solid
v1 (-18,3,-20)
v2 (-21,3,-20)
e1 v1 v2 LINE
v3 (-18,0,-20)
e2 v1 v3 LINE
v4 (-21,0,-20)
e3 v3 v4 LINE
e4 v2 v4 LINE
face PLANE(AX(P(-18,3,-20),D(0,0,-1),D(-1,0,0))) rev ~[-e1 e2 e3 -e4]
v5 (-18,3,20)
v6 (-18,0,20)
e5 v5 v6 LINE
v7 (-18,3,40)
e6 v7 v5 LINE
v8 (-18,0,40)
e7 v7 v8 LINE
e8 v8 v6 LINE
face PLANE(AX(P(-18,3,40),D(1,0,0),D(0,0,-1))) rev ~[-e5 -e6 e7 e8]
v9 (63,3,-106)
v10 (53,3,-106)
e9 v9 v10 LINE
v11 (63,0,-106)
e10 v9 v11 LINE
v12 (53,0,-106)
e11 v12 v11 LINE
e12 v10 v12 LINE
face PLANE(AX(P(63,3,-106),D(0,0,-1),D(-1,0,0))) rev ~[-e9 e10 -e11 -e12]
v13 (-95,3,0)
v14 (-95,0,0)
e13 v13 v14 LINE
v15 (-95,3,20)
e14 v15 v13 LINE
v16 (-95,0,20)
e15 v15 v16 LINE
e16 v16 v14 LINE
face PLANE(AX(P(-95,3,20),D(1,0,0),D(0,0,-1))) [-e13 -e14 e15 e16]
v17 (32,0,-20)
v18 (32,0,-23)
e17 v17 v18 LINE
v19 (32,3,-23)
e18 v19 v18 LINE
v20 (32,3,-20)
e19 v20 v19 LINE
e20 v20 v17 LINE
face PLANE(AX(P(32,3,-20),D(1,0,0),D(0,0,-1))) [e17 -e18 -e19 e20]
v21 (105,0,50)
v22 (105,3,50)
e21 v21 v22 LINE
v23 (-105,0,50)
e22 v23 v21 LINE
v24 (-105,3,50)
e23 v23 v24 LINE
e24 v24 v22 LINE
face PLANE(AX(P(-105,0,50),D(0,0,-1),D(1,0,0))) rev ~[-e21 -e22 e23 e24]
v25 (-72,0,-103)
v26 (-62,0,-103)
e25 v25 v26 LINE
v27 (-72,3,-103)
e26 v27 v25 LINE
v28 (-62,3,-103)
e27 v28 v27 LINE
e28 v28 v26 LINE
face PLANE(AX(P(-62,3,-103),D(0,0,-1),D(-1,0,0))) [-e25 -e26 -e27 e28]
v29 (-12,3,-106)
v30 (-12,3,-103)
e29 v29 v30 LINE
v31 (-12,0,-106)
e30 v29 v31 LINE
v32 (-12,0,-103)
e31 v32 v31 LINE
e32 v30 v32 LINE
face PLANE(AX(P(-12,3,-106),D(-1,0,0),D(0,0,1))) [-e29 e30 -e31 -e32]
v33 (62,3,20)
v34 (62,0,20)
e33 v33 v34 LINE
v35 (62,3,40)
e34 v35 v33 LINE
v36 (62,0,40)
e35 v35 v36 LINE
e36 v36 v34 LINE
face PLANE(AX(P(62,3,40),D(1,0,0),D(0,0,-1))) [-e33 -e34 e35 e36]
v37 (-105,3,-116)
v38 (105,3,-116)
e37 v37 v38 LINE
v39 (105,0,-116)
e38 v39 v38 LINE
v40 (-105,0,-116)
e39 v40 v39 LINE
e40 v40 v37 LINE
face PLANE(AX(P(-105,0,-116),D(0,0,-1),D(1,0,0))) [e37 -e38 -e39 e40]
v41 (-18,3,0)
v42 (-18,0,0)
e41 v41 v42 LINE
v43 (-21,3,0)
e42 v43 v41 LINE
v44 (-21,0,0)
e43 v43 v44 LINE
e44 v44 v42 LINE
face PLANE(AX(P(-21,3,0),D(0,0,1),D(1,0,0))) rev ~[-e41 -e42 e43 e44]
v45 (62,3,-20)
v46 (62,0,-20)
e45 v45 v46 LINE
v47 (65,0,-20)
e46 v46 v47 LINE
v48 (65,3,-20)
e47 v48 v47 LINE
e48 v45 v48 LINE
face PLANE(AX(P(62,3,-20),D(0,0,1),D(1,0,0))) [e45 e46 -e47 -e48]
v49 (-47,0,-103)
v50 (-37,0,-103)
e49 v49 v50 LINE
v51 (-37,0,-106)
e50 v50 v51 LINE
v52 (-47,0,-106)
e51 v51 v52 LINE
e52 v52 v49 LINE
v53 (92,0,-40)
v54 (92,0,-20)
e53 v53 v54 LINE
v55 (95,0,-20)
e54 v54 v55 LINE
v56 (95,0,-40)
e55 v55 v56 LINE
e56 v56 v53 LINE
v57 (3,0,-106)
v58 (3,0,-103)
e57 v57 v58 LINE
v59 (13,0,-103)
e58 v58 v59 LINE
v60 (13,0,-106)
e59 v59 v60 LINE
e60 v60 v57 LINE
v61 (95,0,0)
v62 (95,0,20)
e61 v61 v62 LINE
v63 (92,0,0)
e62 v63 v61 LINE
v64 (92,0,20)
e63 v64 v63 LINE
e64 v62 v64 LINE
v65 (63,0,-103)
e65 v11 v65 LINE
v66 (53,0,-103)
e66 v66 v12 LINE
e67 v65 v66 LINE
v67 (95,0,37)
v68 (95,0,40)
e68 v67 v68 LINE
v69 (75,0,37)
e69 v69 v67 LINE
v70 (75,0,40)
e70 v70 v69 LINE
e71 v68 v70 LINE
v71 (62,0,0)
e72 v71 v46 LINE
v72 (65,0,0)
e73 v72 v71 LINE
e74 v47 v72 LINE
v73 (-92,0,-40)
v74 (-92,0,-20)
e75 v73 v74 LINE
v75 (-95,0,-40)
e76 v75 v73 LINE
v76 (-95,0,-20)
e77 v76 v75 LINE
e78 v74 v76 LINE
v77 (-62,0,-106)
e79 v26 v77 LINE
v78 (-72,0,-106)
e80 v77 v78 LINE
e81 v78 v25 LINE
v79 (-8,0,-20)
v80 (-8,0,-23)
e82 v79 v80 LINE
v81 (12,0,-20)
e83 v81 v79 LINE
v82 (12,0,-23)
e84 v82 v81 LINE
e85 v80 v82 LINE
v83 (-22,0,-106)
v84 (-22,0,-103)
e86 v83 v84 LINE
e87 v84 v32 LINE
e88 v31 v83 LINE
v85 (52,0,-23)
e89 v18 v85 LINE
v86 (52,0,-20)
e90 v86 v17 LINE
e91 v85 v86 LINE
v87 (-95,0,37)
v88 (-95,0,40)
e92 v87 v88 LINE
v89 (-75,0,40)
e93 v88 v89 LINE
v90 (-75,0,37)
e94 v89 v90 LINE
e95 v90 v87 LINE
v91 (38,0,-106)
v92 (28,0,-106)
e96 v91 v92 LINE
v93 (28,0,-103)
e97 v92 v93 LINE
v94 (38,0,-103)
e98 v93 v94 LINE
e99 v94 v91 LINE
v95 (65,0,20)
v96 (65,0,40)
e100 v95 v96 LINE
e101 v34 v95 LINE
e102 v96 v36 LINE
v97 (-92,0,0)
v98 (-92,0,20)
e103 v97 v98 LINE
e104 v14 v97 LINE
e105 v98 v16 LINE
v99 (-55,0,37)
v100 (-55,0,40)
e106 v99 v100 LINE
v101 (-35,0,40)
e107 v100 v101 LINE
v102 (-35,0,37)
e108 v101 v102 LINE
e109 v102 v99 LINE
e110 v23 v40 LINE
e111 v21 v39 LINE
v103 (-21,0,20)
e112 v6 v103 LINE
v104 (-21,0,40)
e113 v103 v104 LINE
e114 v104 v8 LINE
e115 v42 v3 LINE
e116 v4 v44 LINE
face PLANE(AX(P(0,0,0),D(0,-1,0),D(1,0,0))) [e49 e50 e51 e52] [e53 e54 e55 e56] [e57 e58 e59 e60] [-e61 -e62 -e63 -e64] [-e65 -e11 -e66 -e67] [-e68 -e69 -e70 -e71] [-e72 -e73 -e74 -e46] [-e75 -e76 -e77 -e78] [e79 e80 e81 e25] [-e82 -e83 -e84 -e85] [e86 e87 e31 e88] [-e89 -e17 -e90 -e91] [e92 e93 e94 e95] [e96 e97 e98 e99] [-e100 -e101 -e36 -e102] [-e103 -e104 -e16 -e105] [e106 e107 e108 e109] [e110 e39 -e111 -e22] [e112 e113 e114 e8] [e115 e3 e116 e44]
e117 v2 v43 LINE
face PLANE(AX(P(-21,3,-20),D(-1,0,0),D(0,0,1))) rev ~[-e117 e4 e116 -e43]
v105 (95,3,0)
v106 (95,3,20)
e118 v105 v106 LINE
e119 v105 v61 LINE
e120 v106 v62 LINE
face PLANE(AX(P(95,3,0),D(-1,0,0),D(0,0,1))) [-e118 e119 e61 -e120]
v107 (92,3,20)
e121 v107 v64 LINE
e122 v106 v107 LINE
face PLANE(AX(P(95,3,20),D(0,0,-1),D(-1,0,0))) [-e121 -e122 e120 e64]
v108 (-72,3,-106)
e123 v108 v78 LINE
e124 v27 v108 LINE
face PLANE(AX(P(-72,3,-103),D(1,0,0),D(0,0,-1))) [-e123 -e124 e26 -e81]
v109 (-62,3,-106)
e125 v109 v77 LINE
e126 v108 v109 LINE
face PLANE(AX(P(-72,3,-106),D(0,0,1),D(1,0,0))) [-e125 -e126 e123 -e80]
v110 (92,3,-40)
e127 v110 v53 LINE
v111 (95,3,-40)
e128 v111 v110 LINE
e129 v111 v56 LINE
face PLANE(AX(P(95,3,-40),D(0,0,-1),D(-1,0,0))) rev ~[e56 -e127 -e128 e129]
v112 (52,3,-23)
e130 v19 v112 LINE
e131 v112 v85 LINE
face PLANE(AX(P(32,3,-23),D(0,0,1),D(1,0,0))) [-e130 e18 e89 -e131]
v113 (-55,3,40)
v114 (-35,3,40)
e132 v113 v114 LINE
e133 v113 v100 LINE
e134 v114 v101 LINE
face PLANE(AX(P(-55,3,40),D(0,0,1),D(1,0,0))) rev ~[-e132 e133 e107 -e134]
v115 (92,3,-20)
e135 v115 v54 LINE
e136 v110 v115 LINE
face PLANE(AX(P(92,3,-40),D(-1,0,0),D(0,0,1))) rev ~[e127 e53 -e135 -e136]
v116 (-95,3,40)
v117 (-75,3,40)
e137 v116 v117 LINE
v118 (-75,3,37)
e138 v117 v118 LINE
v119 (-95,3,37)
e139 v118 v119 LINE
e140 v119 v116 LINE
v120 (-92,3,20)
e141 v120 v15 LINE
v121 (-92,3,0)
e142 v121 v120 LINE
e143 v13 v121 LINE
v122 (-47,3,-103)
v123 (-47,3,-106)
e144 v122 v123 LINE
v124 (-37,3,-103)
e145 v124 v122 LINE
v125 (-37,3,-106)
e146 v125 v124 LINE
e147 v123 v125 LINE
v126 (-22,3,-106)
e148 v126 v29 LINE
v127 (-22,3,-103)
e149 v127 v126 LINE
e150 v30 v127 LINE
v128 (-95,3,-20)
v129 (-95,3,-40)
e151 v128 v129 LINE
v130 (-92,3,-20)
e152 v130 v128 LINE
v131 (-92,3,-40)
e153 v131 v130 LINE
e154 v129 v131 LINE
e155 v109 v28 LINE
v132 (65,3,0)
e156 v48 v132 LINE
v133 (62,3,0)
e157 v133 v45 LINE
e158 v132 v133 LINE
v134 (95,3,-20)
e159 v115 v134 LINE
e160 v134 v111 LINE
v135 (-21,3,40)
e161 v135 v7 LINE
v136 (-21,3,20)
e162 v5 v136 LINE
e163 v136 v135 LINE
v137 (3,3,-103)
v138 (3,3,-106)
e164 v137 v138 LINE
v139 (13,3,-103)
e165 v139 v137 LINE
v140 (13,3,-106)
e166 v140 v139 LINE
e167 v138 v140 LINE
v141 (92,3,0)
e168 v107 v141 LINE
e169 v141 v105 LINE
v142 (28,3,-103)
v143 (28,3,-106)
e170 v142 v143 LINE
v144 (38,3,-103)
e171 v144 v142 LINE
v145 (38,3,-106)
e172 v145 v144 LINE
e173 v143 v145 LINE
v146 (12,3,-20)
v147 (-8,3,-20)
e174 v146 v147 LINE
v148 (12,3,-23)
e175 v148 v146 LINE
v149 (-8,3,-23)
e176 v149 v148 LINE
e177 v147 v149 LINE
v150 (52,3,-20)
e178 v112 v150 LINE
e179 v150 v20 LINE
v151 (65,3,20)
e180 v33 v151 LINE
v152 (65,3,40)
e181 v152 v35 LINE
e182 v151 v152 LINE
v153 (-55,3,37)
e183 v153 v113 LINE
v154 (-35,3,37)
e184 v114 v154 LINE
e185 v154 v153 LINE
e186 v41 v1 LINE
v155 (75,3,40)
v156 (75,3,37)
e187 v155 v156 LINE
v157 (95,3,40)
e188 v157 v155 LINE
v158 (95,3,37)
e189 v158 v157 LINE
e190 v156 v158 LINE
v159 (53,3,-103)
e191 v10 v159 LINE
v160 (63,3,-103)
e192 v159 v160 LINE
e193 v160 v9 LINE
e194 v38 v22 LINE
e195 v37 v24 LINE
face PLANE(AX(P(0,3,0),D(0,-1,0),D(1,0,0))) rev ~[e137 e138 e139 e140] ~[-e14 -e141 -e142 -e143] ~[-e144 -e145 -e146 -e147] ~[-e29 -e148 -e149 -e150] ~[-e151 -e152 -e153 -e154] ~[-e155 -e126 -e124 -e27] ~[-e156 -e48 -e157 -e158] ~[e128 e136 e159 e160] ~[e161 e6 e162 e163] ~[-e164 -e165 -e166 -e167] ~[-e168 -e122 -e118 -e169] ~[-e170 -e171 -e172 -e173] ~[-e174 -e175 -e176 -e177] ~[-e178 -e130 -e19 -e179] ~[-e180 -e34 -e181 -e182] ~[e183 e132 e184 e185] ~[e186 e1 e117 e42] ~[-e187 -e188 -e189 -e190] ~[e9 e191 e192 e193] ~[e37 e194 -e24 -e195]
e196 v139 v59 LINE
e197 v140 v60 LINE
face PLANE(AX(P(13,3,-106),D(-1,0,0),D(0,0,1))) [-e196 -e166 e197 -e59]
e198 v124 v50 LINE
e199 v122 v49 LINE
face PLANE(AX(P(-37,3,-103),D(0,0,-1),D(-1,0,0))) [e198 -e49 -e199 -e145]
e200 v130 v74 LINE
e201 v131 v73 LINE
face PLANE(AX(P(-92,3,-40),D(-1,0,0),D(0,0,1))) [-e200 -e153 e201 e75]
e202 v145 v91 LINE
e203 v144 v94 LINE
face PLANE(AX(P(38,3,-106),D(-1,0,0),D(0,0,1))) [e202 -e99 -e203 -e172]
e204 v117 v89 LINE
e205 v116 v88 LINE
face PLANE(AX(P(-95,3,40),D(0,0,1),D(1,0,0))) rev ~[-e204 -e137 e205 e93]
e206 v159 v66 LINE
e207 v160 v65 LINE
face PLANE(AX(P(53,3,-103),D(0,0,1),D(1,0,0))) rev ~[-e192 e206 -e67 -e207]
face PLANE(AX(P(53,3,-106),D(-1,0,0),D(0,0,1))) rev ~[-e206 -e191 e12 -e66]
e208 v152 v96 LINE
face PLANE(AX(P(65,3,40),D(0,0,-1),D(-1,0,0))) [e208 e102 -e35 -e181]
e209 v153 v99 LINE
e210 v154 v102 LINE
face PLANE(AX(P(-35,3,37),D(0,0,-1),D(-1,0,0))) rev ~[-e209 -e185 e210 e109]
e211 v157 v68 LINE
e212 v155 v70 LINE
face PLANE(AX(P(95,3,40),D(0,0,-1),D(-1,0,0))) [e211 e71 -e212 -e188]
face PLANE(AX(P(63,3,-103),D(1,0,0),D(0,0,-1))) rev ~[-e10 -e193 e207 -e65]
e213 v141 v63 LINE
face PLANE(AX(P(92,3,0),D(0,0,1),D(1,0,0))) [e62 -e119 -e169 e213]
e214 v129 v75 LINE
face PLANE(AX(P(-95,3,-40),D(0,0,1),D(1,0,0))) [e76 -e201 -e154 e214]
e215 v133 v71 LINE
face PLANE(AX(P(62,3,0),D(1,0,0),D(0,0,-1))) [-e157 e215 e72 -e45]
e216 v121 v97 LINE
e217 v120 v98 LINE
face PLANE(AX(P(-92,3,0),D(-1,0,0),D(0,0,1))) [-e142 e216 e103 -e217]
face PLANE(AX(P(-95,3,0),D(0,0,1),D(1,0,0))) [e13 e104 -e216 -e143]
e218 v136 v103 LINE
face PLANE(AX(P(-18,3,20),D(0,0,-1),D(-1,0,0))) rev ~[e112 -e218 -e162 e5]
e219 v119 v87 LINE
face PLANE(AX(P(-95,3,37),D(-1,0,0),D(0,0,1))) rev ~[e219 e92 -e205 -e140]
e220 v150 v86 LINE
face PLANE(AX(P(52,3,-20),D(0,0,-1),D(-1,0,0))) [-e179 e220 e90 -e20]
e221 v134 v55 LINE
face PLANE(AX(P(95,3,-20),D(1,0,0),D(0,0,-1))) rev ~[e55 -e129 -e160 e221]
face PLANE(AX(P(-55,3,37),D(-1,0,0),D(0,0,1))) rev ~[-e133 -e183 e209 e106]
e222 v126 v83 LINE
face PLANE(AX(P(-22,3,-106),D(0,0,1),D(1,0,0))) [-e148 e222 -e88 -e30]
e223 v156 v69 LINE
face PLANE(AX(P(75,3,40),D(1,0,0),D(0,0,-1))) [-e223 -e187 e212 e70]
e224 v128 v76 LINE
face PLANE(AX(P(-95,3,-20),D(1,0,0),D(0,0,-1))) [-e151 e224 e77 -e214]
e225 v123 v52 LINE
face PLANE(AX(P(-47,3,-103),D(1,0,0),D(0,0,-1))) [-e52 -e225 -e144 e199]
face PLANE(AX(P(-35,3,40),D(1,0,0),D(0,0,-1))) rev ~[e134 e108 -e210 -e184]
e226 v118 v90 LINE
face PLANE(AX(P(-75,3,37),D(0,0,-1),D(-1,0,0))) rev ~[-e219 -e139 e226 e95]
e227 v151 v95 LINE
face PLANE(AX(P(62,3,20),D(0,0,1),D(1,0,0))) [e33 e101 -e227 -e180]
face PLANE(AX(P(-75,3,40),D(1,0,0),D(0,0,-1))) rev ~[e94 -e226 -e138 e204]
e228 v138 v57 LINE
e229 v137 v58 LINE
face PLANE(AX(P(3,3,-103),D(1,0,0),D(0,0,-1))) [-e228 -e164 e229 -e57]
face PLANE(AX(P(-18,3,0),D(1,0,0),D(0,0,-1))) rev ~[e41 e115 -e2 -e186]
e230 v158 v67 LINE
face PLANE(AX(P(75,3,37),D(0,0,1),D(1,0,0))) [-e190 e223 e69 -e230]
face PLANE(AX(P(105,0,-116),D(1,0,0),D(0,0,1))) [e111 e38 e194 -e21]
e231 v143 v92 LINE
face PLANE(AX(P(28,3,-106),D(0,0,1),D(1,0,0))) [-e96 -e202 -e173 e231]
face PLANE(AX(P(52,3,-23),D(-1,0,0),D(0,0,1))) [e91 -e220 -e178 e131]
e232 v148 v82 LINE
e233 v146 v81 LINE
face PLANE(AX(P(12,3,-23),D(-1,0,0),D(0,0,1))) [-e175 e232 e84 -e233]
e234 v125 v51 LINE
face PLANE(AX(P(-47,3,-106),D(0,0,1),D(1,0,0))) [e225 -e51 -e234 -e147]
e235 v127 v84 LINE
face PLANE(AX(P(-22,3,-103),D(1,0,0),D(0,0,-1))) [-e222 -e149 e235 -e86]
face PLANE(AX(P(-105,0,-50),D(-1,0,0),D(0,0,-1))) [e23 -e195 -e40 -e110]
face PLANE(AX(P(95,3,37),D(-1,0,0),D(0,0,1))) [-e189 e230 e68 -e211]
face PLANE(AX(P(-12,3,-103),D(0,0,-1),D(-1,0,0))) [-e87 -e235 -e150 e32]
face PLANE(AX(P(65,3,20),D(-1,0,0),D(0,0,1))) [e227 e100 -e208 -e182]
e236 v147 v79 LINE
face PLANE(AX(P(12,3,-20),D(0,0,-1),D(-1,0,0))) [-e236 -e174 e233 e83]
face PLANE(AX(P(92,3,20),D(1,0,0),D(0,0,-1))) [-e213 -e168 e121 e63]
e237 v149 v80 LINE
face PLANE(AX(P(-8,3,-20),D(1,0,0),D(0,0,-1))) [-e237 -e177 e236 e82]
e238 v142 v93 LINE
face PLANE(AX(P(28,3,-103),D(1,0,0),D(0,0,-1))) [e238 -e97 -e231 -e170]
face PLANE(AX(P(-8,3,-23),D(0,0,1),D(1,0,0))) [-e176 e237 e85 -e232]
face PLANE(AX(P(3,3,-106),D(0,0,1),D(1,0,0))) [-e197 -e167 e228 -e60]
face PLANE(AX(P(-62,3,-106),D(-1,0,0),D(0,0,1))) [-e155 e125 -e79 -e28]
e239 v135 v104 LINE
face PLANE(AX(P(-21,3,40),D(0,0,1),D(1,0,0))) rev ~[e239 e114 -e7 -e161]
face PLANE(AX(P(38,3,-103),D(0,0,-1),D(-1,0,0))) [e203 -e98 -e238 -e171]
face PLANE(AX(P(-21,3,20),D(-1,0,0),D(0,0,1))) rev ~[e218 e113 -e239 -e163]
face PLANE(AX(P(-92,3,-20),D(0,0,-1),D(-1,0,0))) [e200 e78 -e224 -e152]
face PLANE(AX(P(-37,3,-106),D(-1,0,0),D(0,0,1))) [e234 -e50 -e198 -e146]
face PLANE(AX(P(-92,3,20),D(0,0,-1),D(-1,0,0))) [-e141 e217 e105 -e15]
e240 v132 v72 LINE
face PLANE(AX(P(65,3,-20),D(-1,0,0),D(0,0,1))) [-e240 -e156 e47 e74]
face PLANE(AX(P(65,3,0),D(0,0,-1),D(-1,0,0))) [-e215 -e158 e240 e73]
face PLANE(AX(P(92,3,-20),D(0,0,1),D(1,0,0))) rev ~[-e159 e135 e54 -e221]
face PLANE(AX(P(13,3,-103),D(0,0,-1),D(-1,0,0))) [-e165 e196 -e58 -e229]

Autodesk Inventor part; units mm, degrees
ref_plane "YZ Plane" through (0, 0, 0) normal (1, 0, 0) x (0, 1, 0)
ref_plane "XZ Plane" through (0, 0, 0) normal (0, 1, 0) x (-1, 0, 0)
ref_plane "XY Plane" through (0, 0, 0) normal (0, 0, 1) x (1, 0, 0)
sketch "Sketch1" plane through (0, 0, 0) normal (0, 1, 0) x (-1, 0, 0)
  point P0 (0, 0)
sketch "Sketch2" plane through (0, 0, 0) normal (0, 1, 0) x (-1, 0, 0)
  line L0 (105, 50) -> (-105, 50)
  line L1 (-105, 50) -> (-105, -50)
  line L2 (-105, -50) -> (105, -50)
  line L3 (105, -50) -> (105, 50)
  line L4 (105, 50) -> (-105, -50) construction
  line L5 (-105, 50) -> (105, -50) construction
  point P0 (0, 0)
  dimension "d0" = 210
  dimension "d1" = 100
extrude "Extrusion1" add sketch "Sketch2" along normal blind 3
sketch "Sketch3" plane through (0, 3, 0) normal (0, 1, 0) x (1, 0, 0)
  line L0 (-21, 0) -> (-18, 0)
  line L1 (-18, 0) -> (-18, 20)
  line L2 (-18, 20) -> (-21, 20)
  line L3 (-21, 20) -> (-21, 0)
  line L4 (-21, 0) -> (-18, 20) construction
  line L5 (-18, 0) -> (-21, 20) construction
  line L6 (105, 50) -> (-105, 50) projected
  line L7 (62, 20) -> (65, 20)
  line L8 (65, 20) -> (65, 0)
  line L9 (65, 0) -> (62, 0)
  line L10 (62, 0) -> (62, 20)
  line L11 (62, 20) -> (65, 0) construction
  line L12 (65, 20) -> (62, 0) construction
  line L13 (105, -50) -> (105, 50) projected
  line L14 (-21, -40) -> (-18, -40)
  line L15 (-18, -40) -> (-18, -20)
  line L16 (-18, -20) -> (-21, -20)
  line L17 (-21, -20) -> (-21, -40)
  line L18 (-21, -40) -> (-18, -20) construction
  line L19 (-18, -40) -> (-21, -20) construction
  line L20 (-105, -50) -> (105, -50) projected
  line L21 (62, -20) -> (65, -20)
  line L22 (65, -20) -> (65, -40)
  line L23 (65, -40) -> (62, -40)
  line L24 (62, -40) -> (62, -20)
  line L25 (62, -20) -> (65, -40) construction
  line L26 (65, -20) -> (62, -40) construction
  line L27 (-8, 24.65) -> (12, 24.65)
  line L28 (12, 24.65) -> (12, 21.65)
  line L29 (12, 21.65) -> (-8, 21.65)
  line L30 (-8, 21.65) -> (-8, 24.65)
  line L31 (-8, 24.65) -> (12, 21.65) construction
  line L32 (12, 24.65) -> (-8, 21.65) construction
  line L33 (32, 24.65) -> (52, 24.65)
  line L34 (52, 24.65) -> (52, 21.65)
  line L35 (52, 21.65) -> (32, 21.65)
  line L36 (32, 21.65) -> (32, 24.65)
  line L37 (32, 24.65) -> (52, 21.65) construction
  line L38 (52, 24.65) -> (32, 21.65) construction
  line L39 (-105, -50) -> (105, -50) projected
  line L40 (105, -50) -> (105, 50) projected
  line L41 (105, 50) -> (-105, 50) projected
  line L42 (-105, 50) -> (-105, -50) projected
  point P0 (0, 0)
  point P1 (-19.5, 10)
  point P2 (63.5, 10)
  point P3 (-19.5, -30)
  point P4 (63.5, -30)
  point P5 (2, 23.15)
  point P6 (42, 23.15)
  dimension "d4" = 3
  dimension "d5" = 20
  dimension "d6" = 30
  dimension "d7" = 3
  dimension "d8" = 20
  dimension "d9" = 30
  dimension "d10" = 80
  dimension "d11" = 40
  dimension "d14" = 20
  dimension "d15" = 10
  dimension "d16" = 20
  dimension "d17" = 3
  dimension "d18" = 10
  dimension "d19" = 20
  dimension "d20" = 3
  dimension "d21" = 10
extrude "Extrusion2" cut sketch "Sketch3" against normal through all contours L3 L2 L1 L0 | L7 L8 L9 L10
sketch "Sketch4" plane through (0, 3, 0) normal (0, 1, 0) x (1, 0, 0)
  point P0 (0, 0)
sketch "Sketch5" plane through (0, 3, 0) normal (0, 1, 0) x (1, 0, 0)
  line L0 (-21, 0) -> (-21, 20) projected
  line L1 (-18, 20) -> (-18, 0) projected
  line L2 (-21, 20) -> (-18, 20) projected
  line L3 (-18, 0) -> (-21, 0) projected
  line L4 (62, 0) -> (62, 20) projected
  line L5 (65, 0) -> (62, 0) projected
  line L6 (65, 20) -> (65, 0) projected
  line L7 (62, 20) -> (65, 20) projected
  point P0 (0, 0)
sketch "Sketch6" plane through (0, 3, 0) normal (0, 1, 0) x (1, 0, 0)
  line L0 (-21, 0) -> (-18, 0)
  line L1 (-18, 0) -> (-18, 20)
  line L2 (-18, 20) -> (-21, 20)
  line L3 (-21, 20) -> (-21, 0)
  line L4 (-21, 0) -> (-18, 20) construction
  line L5 (-18, 0) -> (-21, 20) construction
  line L6 (105, 50) -> (-105, 50)
  line L7 (62, 20) -> (65, 20)
  line L8 (65, 20) -> (65, 0)
  line L9 (65, 0) -> (62, 0)
  line L10 (62, 0) -> (62, 20)
  line L11 (62, 20) -> (65, 0) construction
  line L12 (65, 20) -> (62, 0) construction
  line L13 (105, -50) -> (105, 50)
  line L14 (-21, -40) -> (-18, -40)
  line L15 (-18, -40) -> (-18, -20)
  line L16 (-18, -20) -> (-21, -20)
  line L17 (-21, -20) -> (-21, -40)
  line L18 (-21, -40) -> (-18, -20) construction
  line L19 (-18, -40) -> (-21, -20) construction
  line L20 (-105, -50) -> (105, -50)
  line L21 (62, -20) -> (65, -20)
  line L22 (65, -20) -> (65, -40)
  line L23 (65, -40) -> (62, -40)
  line L24 (62, -40) -> (62, -20)
  line L25 (62, -20) -> (65, -40) construction
  line L26 (65, -20) -> (62, -40) construction
  line L27 (-8, 23) -> (12, 23)
  line L28 (12, 23) -> (12, 20)
  line L29 (12, 20) -> (-8, 20)
  line L30 (-8, 20) -> (-8, 23)
  line L31 (-8, 23) -> (12, 20) construction
  line L32 (12, 23) -> (-8, 20) construction
  line L33 (32, 23) -> (52, 23)
  line L34 (52, 23) -> (52, 20)
  line L35 (52, 20) -> (32, 20)
  line L36 (32, 20) -> (32, 23)
  line L37 (32, 23) -> (52, 20) construction
  line L38 (52, 23) -> (32, 20) construction
  line L39 (-105, -50) -> (105, -50)
  line L40 (105, -50) -> (105, 50)
  line L41 (105, 50) -> (-105, 50)
  line L42 (-105, 50) -> (-105, -50)
  point P0 (0, 0)
  point P1 (0, 0)
  point P2 (-19.5, 10)
  point P3 (63.5, 10)
  point P4 (-19.5, -30)
  point P5 (63.5, -30)
  point P6 (2, 21.5)
  point P7 (42, 21.5)
  dimension "d22" = 3
  dimension "d23" = 20
  dimension "d24" = 30
  dimension "d25" = 3
  dimension "d26" = 20
  dimension "d27" = 30
  dimension "d28" = 80
  dimension "d29" = 40
  dimension "d30" = 20
  dimension "d31" = 10
  dimension "d32" = 20
  dimension "d33" = 3
  dimension "d34" = 10
  dimension "d35" = 20
  dimension "d36" = 3
  dimension "d37" = 10
  dimension "d41" = 100
  dimension "d42" = 70
extrude "Extrusion3" cut sketch "Sketch6" against normal through all contours L17 L16 L15 L14 | L21 L22 L23 L24 | L27 L28 L29 L30 | L33 L34 L35 L36
sketch "Sketch7" plane through (0, 3, 0) normal (0, 1, 0) x (1, 0, 0)
  line L0 (-21, -40) -> (-21, -20) projected
  line L1 (-18, -20) -> (-18, -40) projected
  line L2 (-21, -20) -> (-18, -20) projected
  line L3 (-18, -40) -> (-21, -40) projected
  line L4 (62, -40) -> (62, -20) projected
  line L5 (65, -40) -> (62, -40) projected
  line L6 (65, -20) -> (65, -40) projected
  line L7 (62, -20) -> (65, -20) projected
  line L8 (-105, 50) -> (-105, -50) projected
  line L9 (-105, -50) -> (105, -50) projected
  line L10 (-95, -40) -> (-75, -40)
  line L11 (-75, -40) -> (-75, -37)
  line L12 (-75, -37) -> (-95, -37)
  line L13 (-95, -37) -> (-95, -40)
  line L14 (-55, -40) -> (-35, -40)
  line L15 (-35, -40) -> (-35, -37)
  line L16 (-35, -37) -> (-55, -37)
  line L17 (-55, -37) -> (-55, -40)
  line L18 (105, -50) -> (105, 50) projected
  line L19 (95, -40) -> (75, -40)
  line L20 (75, -40) -> (75, -37)
  line L21 (75, -37) -> (95, -37)
  line L22 (95, -37) -> (95, -40)
  line L23 (105, 50) -> (-105, 50) projected
  line L24 (-95, 40) -> (-92, 40)
  line L25 (-92, 40) -> (-92, 20)
  line L26 (-92, 20) -> (-95, 20)
  line L27 (-95, 20) -> (-95, 40)
  line L28 (-95, 0) -> (-92, 0)
  line L29 (-92, 0) -> (-92, -20)
  line L30 (-92, -20) -> (-95, -20)
  line L31 (-95, -20) -> (-95, 0)
  line L32 (95, 40) -> (92, 40)
  line L33 (92, 40) -> (92, 20)
  line L34 (92, 20) -> (95, 20)
  line L35 (95, 20) -> (95, 40)
  line L36 (95, -20) -> (92, -20)
  line L37 (92, -20) -> (92, 0)
  line L38 (92, 0) -> (95, 0)
  line L39 (95, 0) -> (95, -20)
  line L40 (-72, 103) -> (-62, 103)
  line L41 (-62, 103) -> (-62, 100)
  line L42 (-62, 100) -> (-72, 100)
  line L43 (-72, 100) -> (-72, 103)
  line L44 (-47, 103) -> (-37, 103)
  line L45 (-37, 103) -> (-37, 100)
  line L46 (-37, 100) -> (-47, 100)
  line L47 (-47, 100) -> (-47, 103)
  line L48 (-22, 103) -> (-12, 103)
  line L49 (-12, 103) -> (-12, 100)
  line L50 (-12, 100) -> (-22, 100)
  line L51 (-22, 100) -> (-22, 103)
  line L52 (3, 103) -> (13, 103)
  line L53 (13, 103) -> (13, 100)
  line L54 (13, 100) -> (3, 100)
  line L55 (3, 100) -> (3, 103)
  line L56 (28, 103) -> (38, 103)
  line L57 (38, 103) -> (38, 100)
  line L58 (38, 100) -> (28, 100)
  line L59 (28, 100) -> (28, 103)
  line L60 (53, 100) -> (63, 100)
  line L61 (63, 100) -> (63, 103)
  line L62 (63, 103) -> (53, 103)
  line L63 (53, 103) -> (53, 100)
  point P0 (0, 0)
  point P1 (-105, 48)
  point P2 (-105, -48)
  point P3 (-103, -50)
  point P4 (103, -50)
  point P5 (105, -48)
  point P6 (105, 48)
  point P7 (103, 50)
  point P8 (-103, 50)
  dimension "d43" = 10
  dimension "d44" = 10
  dimension "d45" = 20
  dimension "d46" = 3
  dimension "d47" = 20
  dimension "d48" = 3
  dimension "d49" = 20
  dimension "d50" = 10
  dimension "d51" = 10
  dimension "d52" = 20
  dimension "d53" = 3
  dimension "d54" = 10
  dimension "d55" = 10
  dimension "d56" = 10
  dimension "d57" = 10
  dimension "d58" = 3
  dimension "d59" = 20
  dimension "d60" = 3
  dimension "d61" = 20
  dimension "d62" = 20
  dimension "d63" = 3
  dimension "d64" = 20
  dimension "d65" = 20
  dimension "d66" = 10
  dimension "d67" = 3
  dimension "d68" = 20
  dimension "d69" = 10
  dimension "d70" = 3
  dimension "d71" = 15
  dimension "d72" = 10
  dimension "d73" = 10
  dimension "d74" = 10
  dimension "d75" = 15
  dimension "d76" = 15
  dimension "d77" = 15
  dimension "d78" = 10
  dimension "d79" = 15
  dimension "d82" = 140
extrude "Extrusion4" cut sketch "Sketch7" against normal through all contours L13 L12 L11 L10 | L17 L16 L15 L14 | L19 L20 L21 L22 | L24 L25 L26 L27 | L28 L29 L30 L31 | L35 L34 L33 L32 | L36 L37 L38 L39 | L40 L41 L42 L43 | L44 L45 L46 L47 | L48 L49 L50 L51 | L52 L53 L54 L55 | L56 L57 L58 L59 | L63 L62 L61 L60
sketch "Sketch8" plane through (0, 3, 0) normal (0, 1, 0) x (1, 0, 0)
  point P0 (0, 0)
sketch "Sketch9" plane through (0, 0, 0) normal (0, -1, 0) x (1, 0, 0)
  line L0 (105, -50) -> (-105, -50) projected
  line L1 (105, -50) -> (-105, -50)
  line L2 (-105, -50) -> (-105, -116)
  line L3 (-105, -116) -> (105, -116)
  line L4 (105, -116) -> (105, -50)
  point P0 (0, 0)
  dimension "d83" = 66
extrude "Extrusion5" add sketch "Sketch9" against normal blind 3
sketch "Sketch10" plane through (0, 3, 0) normal (0, 1, 0) x (1, 0, 0)
  line L0 (-21, -40) -> (-21, -20)
  line L1 (-18, -20) -> (-18, -40)
  line L2 (-21, -20) -> (-18, -20)
  line L3 (-18, -40) -> (-21, -40)
  line L4 (62, -40) -> (62, -20)
  line L5 (65, -40) -> (62, -40)
  line L6 (65, -20) -> (65, -40)
  line L7 (62, -20) -> (65, -20)
  line L8 (-105, 50) -> (-105, -50)
  line L9 (-105, -50) -> (105, -50)
  line L10 (-95, -40) -> (-75, -40)
  line L11 (-75, -40) -> (-75, -37)
  line L12 (-75, -37) -> (-95, -37)
  line L13 (-95, -37) -> (-95, -40)
  line L14 (-55, -40) -> (-35, -40)
  line L15 (-35, -40) -> (-35, -37)
  line L16 (-35, -37) -> (-55, -37)
  line L17 (-55, -37) -> (-55, -40)
  line L18 (105, -50) -> (105, 50)
  line L19 (95, -40) -> (75, -40)
  line L20 (75, -40) -> (75, -37)
  line L21 (75, -37) -> (95, -37)
  line L22 (95, -37) -> (95, -40)
  line L23 (105, 50) -> (-105, 50)
  line L24 (-95, 40) -> (-92, 40)
  line L25 (-92, 40) -> (-92, 20)
  line L26 (-92, 20) -> (-95, 20)
  line L27 (-95, 20) -> (-95, 40)
  line L28 (-95, 0) -> (-92, 0)
  line L29 (-92, 0) -> (-92, -20)
  line L30 (-92, -20) -> (-95, -20)
  line L31 (-95, -20) -> (-95, 0)
  line L32 (95, 40) -> (92, 40)
  line L33 (92, 40) -> (92, 20)
  line L34 (92, 20) -> (95, 20)
  line L35 (95, 20) -> (95, 40)
  line L36 (95, -20) -> (92, -20)
  line L37 (92, -20) -> (92, 0)
  line L38 (92, 0) -> (95, 0)
  line L39 (95, 0) -> (95, -20)
  line L40 (-72, 106) -> (-62, 106)
  line L41 (-62, 106) -> (-62, 103)
  line L42 (-62, 103) -> (-72, 103)
  line L43 (-72, 103) -> (-72, 106)
  line L44 (-47, 106) -> (-37, 106)
  line L45 (-37, 106) -> (-37, 103)
  line L46 (-37, 103) -> (-47, 103)
  line L47 (-47, 103) -> (-47, 106)
  line L48 (-22, 106) -> (-12, 106)
  line L49 (-12, 106) -> (-12, 103)
  line L50 (-12, 103) -> (-22, 103)
  line L51 (-22, 103) -> (-22, 106)
  line L52 (3, 106) -> (13, 106)
  line L53 (13, 106) -> (13, 103)
  line L54 (13, 103) -> (3, 103)
  line L55 (3, 103) -> (3, 106)
  line L56 (28, 106) -> (38, 106)
  line L57 (38, 106) -> (38, 103)
  line L58 (38, 103) -> (28, 103)
  line L59 (28, 103) -> (28, 106)
  line L60 (53, 103) -> (63, 103)
  line L61 (63, 103) -> (63, 106)
  line L62 (63, 106) -> (53, 106)
  line L63 (53, 106) -> (53, 103)
  line L64 (105, 116) -> (-105, 116) projected
  point P0 (0, 0)
  point P1 (0, 0)
  point P2 (-105, 48)
  point P3 (-105, -48)
  point P4 (-103, -50)
  point P5 (103, -50)
  point P6 (105, -48)
  point P7 (105, 48)
  point P8 (103, 50)
  point P9 (-103, 50)
  dimension "d86" = 10
  dimension "d87" = 10
  dimension "d88" = 20
  dimension "d89" = 3
  dimension "d90" = 20
  dimension "d91" = 3
  dimension "d92" = 20
  dimension "d93" = 10
  dimension "d94" = 10
  dimension "d95" = 20
  dimension "d96" = 3
  dimension "d97" = 10
  dimension "d98" = 10
  dimension "d99" = 10
  dimension "d100" = 10
  dimension "d101" = 3
  dimension "d102" = 20
  dimension "d103" = 3
  dimension "d104" = 20
  dimension "d105" = 20
  dimension "d106" = 3
  dimension "d107" = 20
  dimension "d108" = 20
  dimension "d109" = 10
  dimension "d110" = 3
  dimension "d111" = 20
  dimension "d112" = 10
  dimension "d113" = 3
  dimension "d114" = 15
  dimension "d115" = 10
  dimension "d116" = 10
  dimension "d117" = 10
  dimension "d118" = 15
  dimension "d119" = 15
  dimension "d120" = 15
  dimension "d121" = 10
  dimension "d122" = 15
  dimension "d126" = 10
  dimension "d127" = 3
extrude "Extrusion6" cut sketch "Sketch10" against normal through all contours L40 L41 L42 L43 | L44 L45 L46 L47 | L48 L49 L50 L51 | L52 L53 L54 L55 | L56 L57 L58 L59 | L63 L62 L61 L60
equation "\"d9\" = d6"
equation "\"d21\" = d18"
equation "\"d27\" = d24"
equation "\"d37\" = d34"
equation "\"d44\" = d43"
equation "\"d75\" = d71"
equation "\"d76\" = d75"
equation "\"d77\" = d76"
equation "\"d79\" = d76"
properties part number "base"
